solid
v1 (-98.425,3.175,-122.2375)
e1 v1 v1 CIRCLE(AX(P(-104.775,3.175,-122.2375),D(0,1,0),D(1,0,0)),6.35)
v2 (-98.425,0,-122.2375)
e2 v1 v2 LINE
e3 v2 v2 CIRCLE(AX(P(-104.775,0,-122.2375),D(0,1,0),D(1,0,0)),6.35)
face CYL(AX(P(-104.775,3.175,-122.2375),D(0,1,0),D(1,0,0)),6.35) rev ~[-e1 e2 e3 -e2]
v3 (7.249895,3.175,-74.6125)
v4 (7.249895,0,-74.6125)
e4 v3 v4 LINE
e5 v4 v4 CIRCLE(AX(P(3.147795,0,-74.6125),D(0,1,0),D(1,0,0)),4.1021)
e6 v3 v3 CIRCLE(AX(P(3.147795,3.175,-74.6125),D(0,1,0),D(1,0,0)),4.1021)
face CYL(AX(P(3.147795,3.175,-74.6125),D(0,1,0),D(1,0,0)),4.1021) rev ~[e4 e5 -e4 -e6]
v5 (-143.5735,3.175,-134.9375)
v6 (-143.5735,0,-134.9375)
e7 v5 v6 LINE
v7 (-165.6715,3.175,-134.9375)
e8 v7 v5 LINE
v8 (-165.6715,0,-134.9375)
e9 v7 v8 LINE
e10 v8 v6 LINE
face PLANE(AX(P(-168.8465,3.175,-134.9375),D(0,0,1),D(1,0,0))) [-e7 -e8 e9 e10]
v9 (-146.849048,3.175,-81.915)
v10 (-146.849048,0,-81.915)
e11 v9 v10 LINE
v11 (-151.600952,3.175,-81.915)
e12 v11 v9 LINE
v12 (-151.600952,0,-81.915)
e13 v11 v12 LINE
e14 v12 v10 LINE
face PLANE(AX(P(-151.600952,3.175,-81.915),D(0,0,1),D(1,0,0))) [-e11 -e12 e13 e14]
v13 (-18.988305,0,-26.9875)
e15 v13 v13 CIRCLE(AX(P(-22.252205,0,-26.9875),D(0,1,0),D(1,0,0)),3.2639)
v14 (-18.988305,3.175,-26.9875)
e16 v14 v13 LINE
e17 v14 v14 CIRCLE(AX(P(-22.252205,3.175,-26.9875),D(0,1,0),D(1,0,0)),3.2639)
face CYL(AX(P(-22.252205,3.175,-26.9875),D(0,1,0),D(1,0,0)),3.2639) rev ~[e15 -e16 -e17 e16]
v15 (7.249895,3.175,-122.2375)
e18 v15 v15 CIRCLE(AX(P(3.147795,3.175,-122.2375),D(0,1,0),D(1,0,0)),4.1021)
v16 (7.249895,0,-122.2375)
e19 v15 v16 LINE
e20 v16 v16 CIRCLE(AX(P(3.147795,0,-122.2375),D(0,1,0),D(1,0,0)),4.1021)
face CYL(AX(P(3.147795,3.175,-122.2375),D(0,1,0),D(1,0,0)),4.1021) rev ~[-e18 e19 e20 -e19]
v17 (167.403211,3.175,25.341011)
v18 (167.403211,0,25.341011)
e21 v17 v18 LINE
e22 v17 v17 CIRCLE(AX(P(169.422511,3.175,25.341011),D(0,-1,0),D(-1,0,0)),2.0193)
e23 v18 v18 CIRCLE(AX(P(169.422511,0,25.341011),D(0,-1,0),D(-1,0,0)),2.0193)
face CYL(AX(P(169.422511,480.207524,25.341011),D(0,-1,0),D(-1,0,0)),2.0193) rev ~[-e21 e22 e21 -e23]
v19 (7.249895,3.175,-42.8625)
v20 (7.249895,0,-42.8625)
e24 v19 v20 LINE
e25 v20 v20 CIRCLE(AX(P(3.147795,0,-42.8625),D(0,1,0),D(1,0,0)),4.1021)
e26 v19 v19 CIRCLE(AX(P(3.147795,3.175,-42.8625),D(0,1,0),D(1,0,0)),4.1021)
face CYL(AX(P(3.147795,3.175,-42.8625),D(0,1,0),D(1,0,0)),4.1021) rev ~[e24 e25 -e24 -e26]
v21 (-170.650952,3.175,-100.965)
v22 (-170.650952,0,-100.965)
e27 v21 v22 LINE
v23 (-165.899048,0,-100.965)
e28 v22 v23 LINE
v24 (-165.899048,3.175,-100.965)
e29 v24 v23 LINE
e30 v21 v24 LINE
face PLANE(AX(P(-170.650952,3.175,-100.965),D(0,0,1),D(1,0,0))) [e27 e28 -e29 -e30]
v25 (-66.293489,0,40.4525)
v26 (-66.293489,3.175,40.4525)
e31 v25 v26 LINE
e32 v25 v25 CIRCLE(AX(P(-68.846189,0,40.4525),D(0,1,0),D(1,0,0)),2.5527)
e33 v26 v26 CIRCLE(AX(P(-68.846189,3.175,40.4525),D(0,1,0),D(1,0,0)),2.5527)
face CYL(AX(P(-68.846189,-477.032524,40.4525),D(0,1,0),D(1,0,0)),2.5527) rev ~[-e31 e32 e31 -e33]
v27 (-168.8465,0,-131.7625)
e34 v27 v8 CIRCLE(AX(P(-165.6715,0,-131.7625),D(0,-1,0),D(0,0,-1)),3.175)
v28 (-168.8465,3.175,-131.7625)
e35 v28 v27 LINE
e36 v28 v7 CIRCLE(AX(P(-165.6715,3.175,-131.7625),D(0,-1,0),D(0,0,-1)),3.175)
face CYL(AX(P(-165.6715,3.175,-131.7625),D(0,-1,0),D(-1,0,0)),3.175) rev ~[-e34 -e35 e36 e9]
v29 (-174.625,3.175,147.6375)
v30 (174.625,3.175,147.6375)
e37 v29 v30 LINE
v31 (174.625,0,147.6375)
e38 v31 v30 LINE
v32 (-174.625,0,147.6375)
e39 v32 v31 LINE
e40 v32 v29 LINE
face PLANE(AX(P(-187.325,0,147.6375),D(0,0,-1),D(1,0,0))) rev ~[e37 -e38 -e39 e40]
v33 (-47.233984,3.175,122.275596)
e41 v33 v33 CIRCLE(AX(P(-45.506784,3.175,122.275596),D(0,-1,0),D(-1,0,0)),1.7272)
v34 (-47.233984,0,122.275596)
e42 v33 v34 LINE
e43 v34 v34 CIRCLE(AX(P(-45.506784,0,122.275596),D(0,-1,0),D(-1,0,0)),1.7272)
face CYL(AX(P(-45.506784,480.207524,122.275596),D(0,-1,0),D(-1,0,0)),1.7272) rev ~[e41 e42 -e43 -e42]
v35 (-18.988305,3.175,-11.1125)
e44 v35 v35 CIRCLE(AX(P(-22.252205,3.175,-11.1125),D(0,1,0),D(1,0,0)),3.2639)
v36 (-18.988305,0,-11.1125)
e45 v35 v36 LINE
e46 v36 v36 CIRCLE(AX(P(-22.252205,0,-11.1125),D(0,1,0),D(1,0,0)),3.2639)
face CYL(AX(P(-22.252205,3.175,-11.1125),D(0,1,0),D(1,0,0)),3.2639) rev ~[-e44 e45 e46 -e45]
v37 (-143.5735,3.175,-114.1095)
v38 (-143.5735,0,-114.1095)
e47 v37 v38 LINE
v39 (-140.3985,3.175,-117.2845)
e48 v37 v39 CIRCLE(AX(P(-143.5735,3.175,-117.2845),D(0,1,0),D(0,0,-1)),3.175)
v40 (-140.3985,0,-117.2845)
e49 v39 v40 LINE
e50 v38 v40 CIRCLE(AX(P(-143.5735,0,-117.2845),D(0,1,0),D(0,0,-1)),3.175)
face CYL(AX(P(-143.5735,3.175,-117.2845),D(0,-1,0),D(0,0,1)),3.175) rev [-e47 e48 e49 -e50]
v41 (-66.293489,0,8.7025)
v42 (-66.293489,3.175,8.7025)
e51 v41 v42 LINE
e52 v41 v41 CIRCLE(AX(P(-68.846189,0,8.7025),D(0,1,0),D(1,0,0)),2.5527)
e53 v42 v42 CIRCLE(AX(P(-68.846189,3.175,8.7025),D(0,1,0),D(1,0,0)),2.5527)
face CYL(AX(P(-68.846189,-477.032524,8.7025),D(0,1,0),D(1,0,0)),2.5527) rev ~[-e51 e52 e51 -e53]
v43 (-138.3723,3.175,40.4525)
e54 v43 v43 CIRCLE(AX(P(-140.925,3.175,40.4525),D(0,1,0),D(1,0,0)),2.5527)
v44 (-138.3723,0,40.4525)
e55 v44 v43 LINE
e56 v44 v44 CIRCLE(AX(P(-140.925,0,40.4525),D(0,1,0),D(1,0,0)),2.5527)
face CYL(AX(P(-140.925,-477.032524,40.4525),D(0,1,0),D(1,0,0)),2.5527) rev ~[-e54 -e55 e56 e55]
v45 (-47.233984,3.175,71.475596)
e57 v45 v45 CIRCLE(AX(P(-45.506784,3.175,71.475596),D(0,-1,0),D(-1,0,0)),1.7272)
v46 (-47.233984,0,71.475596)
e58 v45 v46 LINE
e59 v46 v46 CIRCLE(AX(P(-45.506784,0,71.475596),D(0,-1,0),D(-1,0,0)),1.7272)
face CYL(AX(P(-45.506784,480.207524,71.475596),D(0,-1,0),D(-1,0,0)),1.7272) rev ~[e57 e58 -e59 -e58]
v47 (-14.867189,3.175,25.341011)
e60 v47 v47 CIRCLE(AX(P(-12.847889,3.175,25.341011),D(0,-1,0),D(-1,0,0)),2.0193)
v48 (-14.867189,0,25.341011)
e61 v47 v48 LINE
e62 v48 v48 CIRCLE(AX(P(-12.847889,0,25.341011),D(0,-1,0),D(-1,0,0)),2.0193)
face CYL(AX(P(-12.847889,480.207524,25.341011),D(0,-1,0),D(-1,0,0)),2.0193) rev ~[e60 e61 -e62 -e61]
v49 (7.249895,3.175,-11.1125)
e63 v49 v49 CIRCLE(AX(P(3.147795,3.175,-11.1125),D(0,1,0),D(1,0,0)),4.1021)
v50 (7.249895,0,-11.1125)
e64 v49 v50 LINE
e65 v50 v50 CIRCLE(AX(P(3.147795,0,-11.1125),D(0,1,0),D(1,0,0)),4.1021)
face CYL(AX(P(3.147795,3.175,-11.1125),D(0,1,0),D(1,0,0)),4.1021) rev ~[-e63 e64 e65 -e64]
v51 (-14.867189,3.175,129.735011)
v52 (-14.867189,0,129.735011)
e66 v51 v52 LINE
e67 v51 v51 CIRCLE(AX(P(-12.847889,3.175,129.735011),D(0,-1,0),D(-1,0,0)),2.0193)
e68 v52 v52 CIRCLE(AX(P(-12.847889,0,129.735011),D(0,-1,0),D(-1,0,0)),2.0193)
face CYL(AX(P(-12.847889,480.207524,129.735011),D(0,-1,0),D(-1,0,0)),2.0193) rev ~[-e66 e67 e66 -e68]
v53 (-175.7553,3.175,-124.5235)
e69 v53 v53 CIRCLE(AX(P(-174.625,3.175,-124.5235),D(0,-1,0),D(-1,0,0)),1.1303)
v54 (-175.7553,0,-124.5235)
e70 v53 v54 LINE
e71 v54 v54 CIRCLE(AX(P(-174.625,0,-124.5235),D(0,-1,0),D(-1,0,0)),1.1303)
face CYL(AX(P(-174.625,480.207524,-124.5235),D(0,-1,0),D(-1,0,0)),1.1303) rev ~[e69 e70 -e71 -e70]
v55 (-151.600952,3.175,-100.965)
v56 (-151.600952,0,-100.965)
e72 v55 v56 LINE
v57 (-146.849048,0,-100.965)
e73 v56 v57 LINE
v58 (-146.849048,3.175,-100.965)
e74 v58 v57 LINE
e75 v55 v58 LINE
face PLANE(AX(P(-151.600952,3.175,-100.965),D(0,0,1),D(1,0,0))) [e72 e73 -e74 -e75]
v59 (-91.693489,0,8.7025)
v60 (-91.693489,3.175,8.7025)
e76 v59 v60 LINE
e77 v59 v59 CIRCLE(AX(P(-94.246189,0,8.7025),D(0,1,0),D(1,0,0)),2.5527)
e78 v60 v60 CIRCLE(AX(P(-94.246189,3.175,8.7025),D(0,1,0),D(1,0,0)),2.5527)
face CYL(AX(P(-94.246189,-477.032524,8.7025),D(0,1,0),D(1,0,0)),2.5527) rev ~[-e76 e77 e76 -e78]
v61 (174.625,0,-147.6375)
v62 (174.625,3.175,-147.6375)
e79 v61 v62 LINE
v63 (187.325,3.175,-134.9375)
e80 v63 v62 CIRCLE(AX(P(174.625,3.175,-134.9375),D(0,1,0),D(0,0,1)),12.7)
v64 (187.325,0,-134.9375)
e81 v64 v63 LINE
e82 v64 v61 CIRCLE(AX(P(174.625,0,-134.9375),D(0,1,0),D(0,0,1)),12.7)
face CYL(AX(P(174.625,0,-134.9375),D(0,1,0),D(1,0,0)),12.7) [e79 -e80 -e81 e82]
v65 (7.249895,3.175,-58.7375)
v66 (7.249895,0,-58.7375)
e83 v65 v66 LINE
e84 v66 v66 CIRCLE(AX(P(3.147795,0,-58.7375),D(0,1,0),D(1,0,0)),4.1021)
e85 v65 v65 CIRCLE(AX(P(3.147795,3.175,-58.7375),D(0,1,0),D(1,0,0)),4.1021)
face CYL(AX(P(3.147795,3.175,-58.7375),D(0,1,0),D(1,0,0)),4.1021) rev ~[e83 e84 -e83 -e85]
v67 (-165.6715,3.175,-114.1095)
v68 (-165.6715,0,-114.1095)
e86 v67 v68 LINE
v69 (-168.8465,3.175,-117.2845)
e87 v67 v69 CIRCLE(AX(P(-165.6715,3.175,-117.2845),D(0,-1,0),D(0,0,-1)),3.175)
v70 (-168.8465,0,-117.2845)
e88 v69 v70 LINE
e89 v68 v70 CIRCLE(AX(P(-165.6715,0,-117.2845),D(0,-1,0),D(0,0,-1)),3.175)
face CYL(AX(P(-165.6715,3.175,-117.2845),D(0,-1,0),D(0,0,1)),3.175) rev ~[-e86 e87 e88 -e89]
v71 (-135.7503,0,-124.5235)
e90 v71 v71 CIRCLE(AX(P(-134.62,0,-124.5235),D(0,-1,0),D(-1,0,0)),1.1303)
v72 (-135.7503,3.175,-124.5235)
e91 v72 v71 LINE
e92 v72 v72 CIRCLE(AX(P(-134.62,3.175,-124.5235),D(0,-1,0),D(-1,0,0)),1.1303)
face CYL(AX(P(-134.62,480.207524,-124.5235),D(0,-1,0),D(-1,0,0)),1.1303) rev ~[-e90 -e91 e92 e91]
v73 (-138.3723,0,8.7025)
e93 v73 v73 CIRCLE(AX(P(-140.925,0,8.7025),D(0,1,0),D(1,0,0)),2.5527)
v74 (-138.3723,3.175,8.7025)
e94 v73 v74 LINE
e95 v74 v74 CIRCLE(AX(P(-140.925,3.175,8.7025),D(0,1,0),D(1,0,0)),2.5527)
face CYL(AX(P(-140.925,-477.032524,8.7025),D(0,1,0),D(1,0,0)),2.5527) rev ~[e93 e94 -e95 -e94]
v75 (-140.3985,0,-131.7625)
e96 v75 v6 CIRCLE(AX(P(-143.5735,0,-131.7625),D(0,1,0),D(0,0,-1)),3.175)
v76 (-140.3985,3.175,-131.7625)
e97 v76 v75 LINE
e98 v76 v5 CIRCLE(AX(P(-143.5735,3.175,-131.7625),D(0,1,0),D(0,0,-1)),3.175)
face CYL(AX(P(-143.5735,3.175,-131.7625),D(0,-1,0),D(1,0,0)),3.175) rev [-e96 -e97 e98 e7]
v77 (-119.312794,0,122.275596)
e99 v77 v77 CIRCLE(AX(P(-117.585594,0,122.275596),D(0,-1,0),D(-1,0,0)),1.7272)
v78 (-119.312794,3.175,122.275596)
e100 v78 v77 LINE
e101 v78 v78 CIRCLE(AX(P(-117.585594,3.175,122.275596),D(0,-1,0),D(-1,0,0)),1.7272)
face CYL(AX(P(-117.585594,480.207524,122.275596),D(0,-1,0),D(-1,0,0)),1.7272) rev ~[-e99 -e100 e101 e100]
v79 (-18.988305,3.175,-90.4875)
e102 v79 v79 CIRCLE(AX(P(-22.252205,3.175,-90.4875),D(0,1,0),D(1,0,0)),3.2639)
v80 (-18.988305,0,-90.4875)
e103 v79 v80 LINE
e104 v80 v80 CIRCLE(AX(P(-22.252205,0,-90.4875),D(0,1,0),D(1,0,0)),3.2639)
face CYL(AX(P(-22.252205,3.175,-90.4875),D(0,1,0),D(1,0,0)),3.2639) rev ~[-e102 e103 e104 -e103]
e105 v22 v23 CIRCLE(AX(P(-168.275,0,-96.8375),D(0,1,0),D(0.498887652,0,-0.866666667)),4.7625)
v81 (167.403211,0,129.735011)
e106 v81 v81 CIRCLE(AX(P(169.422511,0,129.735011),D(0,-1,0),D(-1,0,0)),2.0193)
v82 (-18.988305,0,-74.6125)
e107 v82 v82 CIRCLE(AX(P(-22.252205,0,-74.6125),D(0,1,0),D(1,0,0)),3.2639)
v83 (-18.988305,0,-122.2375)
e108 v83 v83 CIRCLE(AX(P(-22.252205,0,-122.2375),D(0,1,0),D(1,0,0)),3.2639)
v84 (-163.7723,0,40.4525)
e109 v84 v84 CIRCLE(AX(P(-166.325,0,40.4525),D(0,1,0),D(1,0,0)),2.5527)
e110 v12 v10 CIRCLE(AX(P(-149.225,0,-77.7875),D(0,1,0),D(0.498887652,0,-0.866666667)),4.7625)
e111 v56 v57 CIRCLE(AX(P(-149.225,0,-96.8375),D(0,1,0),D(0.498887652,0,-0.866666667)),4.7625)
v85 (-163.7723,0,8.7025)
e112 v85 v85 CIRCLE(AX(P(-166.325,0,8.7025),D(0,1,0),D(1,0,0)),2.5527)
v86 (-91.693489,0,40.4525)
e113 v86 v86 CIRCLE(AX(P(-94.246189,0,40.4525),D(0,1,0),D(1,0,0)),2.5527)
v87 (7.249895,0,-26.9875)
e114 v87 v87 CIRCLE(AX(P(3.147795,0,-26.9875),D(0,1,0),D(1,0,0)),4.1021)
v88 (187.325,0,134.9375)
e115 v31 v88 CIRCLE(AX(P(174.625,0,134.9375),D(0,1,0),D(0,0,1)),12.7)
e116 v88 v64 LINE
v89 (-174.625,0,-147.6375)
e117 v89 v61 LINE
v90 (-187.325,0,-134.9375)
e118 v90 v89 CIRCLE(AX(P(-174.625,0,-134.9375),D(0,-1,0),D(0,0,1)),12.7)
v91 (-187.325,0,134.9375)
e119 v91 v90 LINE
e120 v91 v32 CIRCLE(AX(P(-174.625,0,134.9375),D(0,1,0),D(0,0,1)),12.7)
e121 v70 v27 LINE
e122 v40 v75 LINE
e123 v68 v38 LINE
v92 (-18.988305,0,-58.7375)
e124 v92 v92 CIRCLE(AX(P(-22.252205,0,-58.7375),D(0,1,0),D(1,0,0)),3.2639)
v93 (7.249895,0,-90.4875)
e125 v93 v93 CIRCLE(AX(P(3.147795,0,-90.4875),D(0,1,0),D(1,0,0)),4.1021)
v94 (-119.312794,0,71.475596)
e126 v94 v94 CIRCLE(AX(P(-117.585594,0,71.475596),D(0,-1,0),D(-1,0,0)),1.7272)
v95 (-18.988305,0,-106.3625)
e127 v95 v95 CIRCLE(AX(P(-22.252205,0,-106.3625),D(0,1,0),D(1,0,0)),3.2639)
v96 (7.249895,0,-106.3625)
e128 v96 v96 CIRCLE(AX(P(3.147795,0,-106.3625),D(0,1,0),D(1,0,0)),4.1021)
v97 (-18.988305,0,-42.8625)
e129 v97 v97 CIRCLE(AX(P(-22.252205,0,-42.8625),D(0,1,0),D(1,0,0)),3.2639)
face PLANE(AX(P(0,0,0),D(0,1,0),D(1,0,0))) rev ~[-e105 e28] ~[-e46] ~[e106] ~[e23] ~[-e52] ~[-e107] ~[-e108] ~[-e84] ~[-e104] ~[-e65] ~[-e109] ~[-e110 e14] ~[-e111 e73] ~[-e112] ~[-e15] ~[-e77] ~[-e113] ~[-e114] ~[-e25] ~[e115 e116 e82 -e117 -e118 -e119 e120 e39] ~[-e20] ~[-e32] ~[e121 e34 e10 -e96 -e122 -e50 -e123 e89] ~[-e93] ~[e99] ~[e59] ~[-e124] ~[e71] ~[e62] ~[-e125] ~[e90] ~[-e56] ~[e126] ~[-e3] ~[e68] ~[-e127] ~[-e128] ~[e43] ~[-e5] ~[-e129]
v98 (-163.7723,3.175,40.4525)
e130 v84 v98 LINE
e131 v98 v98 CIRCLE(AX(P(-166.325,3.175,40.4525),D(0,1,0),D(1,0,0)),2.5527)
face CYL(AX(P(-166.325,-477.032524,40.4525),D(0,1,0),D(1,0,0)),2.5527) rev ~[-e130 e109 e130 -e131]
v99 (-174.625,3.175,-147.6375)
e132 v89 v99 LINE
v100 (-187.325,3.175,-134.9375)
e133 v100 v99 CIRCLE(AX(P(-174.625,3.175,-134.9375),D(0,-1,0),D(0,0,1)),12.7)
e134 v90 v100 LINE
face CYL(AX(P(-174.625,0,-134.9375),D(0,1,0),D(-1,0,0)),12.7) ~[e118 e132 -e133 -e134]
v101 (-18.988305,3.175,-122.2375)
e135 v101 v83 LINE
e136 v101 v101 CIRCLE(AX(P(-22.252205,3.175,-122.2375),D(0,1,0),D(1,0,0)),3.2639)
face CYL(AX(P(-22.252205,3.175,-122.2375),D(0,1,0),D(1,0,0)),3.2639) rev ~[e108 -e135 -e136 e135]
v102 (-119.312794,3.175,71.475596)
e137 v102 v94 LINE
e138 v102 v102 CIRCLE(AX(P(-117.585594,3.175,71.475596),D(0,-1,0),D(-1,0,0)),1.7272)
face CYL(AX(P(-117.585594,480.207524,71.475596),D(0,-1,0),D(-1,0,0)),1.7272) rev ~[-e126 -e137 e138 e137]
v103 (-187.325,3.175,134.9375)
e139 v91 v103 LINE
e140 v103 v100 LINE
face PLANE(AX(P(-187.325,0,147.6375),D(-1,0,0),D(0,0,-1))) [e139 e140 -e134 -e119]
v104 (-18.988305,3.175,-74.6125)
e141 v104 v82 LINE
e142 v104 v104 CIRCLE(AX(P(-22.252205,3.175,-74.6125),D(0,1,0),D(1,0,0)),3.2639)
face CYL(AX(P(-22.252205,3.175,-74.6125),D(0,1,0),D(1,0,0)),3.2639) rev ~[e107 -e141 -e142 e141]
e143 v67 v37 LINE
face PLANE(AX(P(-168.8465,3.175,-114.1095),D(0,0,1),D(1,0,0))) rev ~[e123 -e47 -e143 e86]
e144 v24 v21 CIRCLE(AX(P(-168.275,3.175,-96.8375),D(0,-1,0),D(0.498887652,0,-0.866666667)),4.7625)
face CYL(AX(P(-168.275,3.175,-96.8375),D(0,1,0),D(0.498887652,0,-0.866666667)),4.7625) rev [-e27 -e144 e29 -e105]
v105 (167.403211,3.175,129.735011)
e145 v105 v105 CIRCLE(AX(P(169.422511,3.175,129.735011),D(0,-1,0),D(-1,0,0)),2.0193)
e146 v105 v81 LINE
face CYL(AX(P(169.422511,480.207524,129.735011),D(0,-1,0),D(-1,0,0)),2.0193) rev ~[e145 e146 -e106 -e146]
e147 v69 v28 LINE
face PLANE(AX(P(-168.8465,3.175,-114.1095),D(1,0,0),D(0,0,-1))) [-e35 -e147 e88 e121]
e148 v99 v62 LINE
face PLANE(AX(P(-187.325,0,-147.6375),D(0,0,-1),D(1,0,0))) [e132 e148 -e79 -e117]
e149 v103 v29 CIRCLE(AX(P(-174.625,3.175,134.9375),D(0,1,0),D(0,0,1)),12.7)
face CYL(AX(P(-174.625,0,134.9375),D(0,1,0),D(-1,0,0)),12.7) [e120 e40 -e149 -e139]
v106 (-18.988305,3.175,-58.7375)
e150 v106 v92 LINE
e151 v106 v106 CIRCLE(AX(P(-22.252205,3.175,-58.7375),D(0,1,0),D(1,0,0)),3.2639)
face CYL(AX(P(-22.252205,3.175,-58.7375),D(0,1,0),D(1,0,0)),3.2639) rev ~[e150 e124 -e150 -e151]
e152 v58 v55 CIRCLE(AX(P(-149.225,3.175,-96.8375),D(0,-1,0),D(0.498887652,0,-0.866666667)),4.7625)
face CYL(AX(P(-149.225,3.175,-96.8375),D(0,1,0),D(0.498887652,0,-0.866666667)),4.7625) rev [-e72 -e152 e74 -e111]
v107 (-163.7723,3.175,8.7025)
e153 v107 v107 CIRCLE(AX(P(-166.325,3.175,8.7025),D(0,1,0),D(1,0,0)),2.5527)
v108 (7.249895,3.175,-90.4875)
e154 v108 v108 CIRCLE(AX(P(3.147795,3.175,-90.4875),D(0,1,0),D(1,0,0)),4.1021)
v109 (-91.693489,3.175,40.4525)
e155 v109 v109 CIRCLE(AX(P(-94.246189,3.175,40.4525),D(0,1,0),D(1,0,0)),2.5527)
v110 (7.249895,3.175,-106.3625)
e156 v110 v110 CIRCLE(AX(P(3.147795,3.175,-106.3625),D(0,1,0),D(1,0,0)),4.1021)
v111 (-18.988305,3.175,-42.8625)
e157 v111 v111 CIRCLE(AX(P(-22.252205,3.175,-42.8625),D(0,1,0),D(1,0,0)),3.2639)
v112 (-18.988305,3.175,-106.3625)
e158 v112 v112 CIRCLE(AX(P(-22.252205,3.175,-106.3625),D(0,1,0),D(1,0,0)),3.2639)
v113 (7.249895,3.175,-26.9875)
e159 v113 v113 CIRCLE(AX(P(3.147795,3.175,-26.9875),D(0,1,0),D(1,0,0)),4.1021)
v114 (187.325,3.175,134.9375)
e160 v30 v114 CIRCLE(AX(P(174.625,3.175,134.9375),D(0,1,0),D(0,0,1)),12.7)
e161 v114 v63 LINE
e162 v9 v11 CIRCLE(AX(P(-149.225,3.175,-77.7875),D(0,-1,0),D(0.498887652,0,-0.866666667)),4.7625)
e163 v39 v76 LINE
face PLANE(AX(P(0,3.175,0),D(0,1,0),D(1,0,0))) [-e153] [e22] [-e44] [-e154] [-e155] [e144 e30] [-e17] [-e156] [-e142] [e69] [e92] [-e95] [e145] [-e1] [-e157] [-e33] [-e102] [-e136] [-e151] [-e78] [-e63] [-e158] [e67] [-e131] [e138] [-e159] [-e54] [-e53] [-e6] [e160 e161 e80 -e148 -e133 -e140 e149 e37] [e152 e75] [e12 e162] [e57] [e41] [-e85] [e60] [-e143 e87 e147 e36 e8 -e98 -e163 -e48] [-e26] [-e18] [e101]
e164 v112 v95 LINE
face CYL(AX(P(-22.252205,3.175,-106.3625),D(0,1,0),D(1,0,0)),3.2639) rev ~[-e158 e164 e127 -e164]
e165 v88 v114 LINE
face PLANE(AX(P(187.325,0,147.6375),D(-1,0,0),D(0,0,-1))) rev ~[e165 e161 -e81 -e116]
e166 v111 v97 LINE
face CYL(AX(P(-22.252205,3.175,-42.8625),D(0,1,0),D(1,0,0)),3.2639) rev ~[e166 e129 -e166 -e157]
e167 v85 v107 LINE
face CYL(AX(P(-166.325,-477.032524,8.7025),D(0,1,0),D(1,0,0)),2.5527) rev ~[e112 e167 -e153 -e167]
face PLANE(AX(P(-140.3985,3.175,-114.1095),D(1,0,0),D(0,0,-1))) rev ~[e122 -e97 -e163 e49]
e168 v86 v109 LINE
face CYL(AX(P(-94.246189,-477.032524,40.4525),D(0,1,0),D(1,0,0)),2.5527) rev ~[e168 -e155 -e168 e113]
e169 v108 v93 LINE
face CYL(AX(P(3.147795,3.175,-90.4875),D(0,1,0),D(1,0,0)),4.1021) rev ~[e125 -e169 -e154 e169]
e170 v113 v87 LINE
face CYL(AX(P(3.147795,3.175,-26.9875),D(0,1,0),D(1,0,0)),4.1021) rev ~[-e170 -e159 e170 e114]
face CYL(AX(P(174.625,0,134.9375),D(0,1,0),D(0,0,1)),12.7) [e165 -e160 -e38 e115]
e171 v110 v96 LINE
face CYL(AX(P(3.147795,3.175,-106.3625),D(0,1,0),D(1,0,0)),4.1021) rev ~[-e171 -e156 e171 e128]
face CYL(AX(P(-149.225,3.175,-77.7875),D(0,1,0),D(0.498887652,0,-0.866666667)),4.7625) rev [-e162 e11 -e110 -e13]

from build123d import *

# Parameters (mm, degrees)
SKETCH1_W              = 374.65
SKETCH1_H              = 295.275
BOSS_EXTRUDE1_DEPTH    = 3.175
FILLET1_R              = 12.7
SKETCH2_R              = 3.2639
SKETCH2_R_2            = 4.1021
CUT_EXTRUDE1_DEPTH     = 4.175
SKETCH3_W              = 28.448
SKETCH3_H              = 20.828
CUT_EXTRUDE2_DEPTH     = 4.175
F_4_40_TAPPED_HOLE1_D  = 2.2606
FILLET2_R              = 3.175
CUT_EXTRUDE3_DEPTH     = 4.175
SKETCH7_R              = 6.35
CUT_EXTRUDE4_DEPTH     = 4.175
F_10_32_TAPPED_HOLE_D  = 4.0386
F_8_32_TAPPED_HOLE1_D  = 3.4544
F_10_CLEARANCE_HOLE2_D = 5.1054


with BuildPart() as part:
    # Sketch1 → Boss-Extrude1 (new body)
    with BuildSketch(Plane(origin=(0, 0, 0), x_dir=(1, 0, 0), z_dir=(0, 1, 0))):
        Rectangle(SKETCH1_W, SKETCH1_H)
    extrude(amount=BOSS_EXTRUDE1_DEPTH)

    # Fillet1
    fillet1_edges = [part.edges().sort_by_distance(p)[0] for p in [
        (187.325, 1.5875, 147.6375),
        (-187.325, 1.5875, 147.6375),
        (-187.325, 1.5875, -147.6375),
        (187.325, 1.5875, -147.6375),
    ]]
    fillet(fillet1_edges, radius=FILLET1_R)

    # Sketch2 → Cut-Extrude1 (cut, through all)
    with BuildSketch(Plane(origin=(0, 3.175, 0), x_dir=(1, 0, 0), z_dir=(0, 1, 0))):
        with Locations((-22.252205122, 122.2375)):
            Circle(SKETCH2_R)
        with Locations((-22.252205122, 106.3625)):
            Circle(SKETCH2_R)
        with Locations((-22.252205122, 90.4875)):
            Circle(SKETCH2_R)
        with Locations((-22.252205122, 74.6125)):
            Circle(SKETCH2_R)
        with Locations((-22.252205122, 58.7375)):
            Circle(SKETCH2_R)
        with Locations((-22.252205122, 42.8625)):
            Circle(SKETCH2_R)
        with Locations((-22.252205122, 26.9875)):
            Circle(SKETCH2_R)
        with Locations((-22.252205122, 11.1125)):
            Circle(SKETCH2_R)
        with Locations((3.147794878, 122.2375)):
            Circle(SKETCH2_R_2)
        with Locations((3.147794878, 106.3625)):
            Circle(SKETCH2_R_2)
        with Locations((3.147794878, 90.4875)):
            Circle(SKETCH2_R_2)
        with Locations((3.147794878, 74.6125)):
            Circle(SKETCH2_R_2)
        with Locations((3.147794878, 58.7375)):
            Circle(SKETCH2_R_2)
        with Locations((3.147794878, 42.8625)):
            Circle(SKETCH2_R_2)
        with Locations((3.147794878, 26.9875)):
            Circle(SKETCH2_R_2)
        with Locations((3.147794878, 11.1125)):
            Circle(SKETCH2_R_2)
    extrude(amount=-CUT_EXTRUDE1_DEPTH, mode=Mode.SUBTRACT)

    # Sketch3 → Cut-Extrude2 (cut, through all)
    with BuildSketch(Plane(origin=(0, 3.175, 0), x_dir=(1, 0, 0), z_dir=(0, 1, 0))):
        with Locations((-154.6225, 124.5235)):
            Rectangle(SKETCH3_W, SKETCH3_H)
    extrude(amount=-CUT_EXTRUDE2_DEPTH, mode=Mode.SUBTRACT)

    # #4-40 Tapped Hole1 (through all)
    with Locations(Plane(origin=(0, 3.175, 0), x_dir=(1, 0, 0), z_dir=(0, 1, 0))):
        with Locations((-174.625, 124.5235), (-134.62, 124.5235)):
            Hole(F_4_40_TAPPED_HOLE1_D / 2)

    # Fillet2
    fillet2_edges = [part.edges().sort_by_distance(p)[0] for p in [
        (-140.3985, 1.5875, -134.9375),
        (-140.3985, 1.5875, -114.1095),
        (-168.8465, 1.5875, -114.1095),
        (-168.8465, 1.5875, -134.9375),
    ]]
    fillet(fillet2_edges, radius=FILLET2_R)

    # Sketch6 → Cut-Extrude3 (cut, through all)
    with BuildSketch(Plane(origin=(0, 3.175, 0), x_dir=(1, 0, 0), z_dir=(0, 1, 0))):
        with BuildLine():
            Line((-170.650952441, 100.965), (-165.899047559, 100.965))
            ThreePointArc((-165.899047559, 100.965), (-168.275, 92.075), (-170.650952441, 100.965))
        make_face()
        with BuildLine():
            Line((-151.600952441, 100.965), (-146.849047559, 100.965))
            ThreePointArc((-146.849047559, 100.965), (-149.225, 92.075), (-151.600952441, 100.965))
        make_face()
        with BuildLine():
            Line((-151.600952441, 81.915), (-146.849047559, 81.915))
            ThreePointArc((-146.849047559, 81.915), (-149.225, 73.025), (-151.600952441, 81.915))
        make_face()
    extrude(amount=-CUT_EXTRUDE3_DEPTH, mode=Mode.SUBTRACT)

    # Sketch7 → Cut-Extrude4 (cut, through all)
    with BuildSketch(Plane(origin=(0, 3.175, 0), x_dir=(1, 0, 0), z_dir=(0, 1, 0))):
        with Locations((-104.775, 122.2375)):
            Circle(SKETCH7_R)
    extrude(amount=-CUT_EXTRUDE4_DEPTH, mode=Mode.SUBTRACT)

    # #10-32 Tapped Hole (through all)
    with Locations(Plane(origin=(0, 3.175, 0), x_dir=(1, 0, 0), z_dir=(0, 1, 0))):
        with Locations((169.422510963, -25.341010963), (-12.847889037, -25.341010963), (-12.847889037, -129.735010963), (169.422510963, -129.735010963)):
            Hole(F_10_32_TAPPED_HOLE_D / 2)

    # #8-32 Tapped Hole1 (through all)
    with Locations(Plane(origin=(0, 3.175, 0), x_dir=(1, 0, 0), z_dir=(0, 1, 0))):
        with Locations((-117.585593705, -122.275595912), (-117.585593705, -71.475595912), (-45.50678376, -71.475595912), (-45.50678376, -122.275595912)):
            Hole(F_8_32_TAPPED_HOLE1_D / 2)

    # #10 Clearance Hole2 (through all)
    with Locations(Plane(origin=(0, 0, 0), x_dir=(-1, 0, 0), z_dir=(0, -1, 0))):
        with Locations((140.925, -8.702499665), (166.325, -8.702499665), (166.325, -40.452499665), (140.925, -40.452499665), (94.246188733, -40.452499665), (94.246188733, -8.702499665), (68.846188733, -8.702499665), (68.846188733, -40.452499665)):
            Hole(F_10_CLEARANCE_HOLE2_D / 2)


solid = part.part
